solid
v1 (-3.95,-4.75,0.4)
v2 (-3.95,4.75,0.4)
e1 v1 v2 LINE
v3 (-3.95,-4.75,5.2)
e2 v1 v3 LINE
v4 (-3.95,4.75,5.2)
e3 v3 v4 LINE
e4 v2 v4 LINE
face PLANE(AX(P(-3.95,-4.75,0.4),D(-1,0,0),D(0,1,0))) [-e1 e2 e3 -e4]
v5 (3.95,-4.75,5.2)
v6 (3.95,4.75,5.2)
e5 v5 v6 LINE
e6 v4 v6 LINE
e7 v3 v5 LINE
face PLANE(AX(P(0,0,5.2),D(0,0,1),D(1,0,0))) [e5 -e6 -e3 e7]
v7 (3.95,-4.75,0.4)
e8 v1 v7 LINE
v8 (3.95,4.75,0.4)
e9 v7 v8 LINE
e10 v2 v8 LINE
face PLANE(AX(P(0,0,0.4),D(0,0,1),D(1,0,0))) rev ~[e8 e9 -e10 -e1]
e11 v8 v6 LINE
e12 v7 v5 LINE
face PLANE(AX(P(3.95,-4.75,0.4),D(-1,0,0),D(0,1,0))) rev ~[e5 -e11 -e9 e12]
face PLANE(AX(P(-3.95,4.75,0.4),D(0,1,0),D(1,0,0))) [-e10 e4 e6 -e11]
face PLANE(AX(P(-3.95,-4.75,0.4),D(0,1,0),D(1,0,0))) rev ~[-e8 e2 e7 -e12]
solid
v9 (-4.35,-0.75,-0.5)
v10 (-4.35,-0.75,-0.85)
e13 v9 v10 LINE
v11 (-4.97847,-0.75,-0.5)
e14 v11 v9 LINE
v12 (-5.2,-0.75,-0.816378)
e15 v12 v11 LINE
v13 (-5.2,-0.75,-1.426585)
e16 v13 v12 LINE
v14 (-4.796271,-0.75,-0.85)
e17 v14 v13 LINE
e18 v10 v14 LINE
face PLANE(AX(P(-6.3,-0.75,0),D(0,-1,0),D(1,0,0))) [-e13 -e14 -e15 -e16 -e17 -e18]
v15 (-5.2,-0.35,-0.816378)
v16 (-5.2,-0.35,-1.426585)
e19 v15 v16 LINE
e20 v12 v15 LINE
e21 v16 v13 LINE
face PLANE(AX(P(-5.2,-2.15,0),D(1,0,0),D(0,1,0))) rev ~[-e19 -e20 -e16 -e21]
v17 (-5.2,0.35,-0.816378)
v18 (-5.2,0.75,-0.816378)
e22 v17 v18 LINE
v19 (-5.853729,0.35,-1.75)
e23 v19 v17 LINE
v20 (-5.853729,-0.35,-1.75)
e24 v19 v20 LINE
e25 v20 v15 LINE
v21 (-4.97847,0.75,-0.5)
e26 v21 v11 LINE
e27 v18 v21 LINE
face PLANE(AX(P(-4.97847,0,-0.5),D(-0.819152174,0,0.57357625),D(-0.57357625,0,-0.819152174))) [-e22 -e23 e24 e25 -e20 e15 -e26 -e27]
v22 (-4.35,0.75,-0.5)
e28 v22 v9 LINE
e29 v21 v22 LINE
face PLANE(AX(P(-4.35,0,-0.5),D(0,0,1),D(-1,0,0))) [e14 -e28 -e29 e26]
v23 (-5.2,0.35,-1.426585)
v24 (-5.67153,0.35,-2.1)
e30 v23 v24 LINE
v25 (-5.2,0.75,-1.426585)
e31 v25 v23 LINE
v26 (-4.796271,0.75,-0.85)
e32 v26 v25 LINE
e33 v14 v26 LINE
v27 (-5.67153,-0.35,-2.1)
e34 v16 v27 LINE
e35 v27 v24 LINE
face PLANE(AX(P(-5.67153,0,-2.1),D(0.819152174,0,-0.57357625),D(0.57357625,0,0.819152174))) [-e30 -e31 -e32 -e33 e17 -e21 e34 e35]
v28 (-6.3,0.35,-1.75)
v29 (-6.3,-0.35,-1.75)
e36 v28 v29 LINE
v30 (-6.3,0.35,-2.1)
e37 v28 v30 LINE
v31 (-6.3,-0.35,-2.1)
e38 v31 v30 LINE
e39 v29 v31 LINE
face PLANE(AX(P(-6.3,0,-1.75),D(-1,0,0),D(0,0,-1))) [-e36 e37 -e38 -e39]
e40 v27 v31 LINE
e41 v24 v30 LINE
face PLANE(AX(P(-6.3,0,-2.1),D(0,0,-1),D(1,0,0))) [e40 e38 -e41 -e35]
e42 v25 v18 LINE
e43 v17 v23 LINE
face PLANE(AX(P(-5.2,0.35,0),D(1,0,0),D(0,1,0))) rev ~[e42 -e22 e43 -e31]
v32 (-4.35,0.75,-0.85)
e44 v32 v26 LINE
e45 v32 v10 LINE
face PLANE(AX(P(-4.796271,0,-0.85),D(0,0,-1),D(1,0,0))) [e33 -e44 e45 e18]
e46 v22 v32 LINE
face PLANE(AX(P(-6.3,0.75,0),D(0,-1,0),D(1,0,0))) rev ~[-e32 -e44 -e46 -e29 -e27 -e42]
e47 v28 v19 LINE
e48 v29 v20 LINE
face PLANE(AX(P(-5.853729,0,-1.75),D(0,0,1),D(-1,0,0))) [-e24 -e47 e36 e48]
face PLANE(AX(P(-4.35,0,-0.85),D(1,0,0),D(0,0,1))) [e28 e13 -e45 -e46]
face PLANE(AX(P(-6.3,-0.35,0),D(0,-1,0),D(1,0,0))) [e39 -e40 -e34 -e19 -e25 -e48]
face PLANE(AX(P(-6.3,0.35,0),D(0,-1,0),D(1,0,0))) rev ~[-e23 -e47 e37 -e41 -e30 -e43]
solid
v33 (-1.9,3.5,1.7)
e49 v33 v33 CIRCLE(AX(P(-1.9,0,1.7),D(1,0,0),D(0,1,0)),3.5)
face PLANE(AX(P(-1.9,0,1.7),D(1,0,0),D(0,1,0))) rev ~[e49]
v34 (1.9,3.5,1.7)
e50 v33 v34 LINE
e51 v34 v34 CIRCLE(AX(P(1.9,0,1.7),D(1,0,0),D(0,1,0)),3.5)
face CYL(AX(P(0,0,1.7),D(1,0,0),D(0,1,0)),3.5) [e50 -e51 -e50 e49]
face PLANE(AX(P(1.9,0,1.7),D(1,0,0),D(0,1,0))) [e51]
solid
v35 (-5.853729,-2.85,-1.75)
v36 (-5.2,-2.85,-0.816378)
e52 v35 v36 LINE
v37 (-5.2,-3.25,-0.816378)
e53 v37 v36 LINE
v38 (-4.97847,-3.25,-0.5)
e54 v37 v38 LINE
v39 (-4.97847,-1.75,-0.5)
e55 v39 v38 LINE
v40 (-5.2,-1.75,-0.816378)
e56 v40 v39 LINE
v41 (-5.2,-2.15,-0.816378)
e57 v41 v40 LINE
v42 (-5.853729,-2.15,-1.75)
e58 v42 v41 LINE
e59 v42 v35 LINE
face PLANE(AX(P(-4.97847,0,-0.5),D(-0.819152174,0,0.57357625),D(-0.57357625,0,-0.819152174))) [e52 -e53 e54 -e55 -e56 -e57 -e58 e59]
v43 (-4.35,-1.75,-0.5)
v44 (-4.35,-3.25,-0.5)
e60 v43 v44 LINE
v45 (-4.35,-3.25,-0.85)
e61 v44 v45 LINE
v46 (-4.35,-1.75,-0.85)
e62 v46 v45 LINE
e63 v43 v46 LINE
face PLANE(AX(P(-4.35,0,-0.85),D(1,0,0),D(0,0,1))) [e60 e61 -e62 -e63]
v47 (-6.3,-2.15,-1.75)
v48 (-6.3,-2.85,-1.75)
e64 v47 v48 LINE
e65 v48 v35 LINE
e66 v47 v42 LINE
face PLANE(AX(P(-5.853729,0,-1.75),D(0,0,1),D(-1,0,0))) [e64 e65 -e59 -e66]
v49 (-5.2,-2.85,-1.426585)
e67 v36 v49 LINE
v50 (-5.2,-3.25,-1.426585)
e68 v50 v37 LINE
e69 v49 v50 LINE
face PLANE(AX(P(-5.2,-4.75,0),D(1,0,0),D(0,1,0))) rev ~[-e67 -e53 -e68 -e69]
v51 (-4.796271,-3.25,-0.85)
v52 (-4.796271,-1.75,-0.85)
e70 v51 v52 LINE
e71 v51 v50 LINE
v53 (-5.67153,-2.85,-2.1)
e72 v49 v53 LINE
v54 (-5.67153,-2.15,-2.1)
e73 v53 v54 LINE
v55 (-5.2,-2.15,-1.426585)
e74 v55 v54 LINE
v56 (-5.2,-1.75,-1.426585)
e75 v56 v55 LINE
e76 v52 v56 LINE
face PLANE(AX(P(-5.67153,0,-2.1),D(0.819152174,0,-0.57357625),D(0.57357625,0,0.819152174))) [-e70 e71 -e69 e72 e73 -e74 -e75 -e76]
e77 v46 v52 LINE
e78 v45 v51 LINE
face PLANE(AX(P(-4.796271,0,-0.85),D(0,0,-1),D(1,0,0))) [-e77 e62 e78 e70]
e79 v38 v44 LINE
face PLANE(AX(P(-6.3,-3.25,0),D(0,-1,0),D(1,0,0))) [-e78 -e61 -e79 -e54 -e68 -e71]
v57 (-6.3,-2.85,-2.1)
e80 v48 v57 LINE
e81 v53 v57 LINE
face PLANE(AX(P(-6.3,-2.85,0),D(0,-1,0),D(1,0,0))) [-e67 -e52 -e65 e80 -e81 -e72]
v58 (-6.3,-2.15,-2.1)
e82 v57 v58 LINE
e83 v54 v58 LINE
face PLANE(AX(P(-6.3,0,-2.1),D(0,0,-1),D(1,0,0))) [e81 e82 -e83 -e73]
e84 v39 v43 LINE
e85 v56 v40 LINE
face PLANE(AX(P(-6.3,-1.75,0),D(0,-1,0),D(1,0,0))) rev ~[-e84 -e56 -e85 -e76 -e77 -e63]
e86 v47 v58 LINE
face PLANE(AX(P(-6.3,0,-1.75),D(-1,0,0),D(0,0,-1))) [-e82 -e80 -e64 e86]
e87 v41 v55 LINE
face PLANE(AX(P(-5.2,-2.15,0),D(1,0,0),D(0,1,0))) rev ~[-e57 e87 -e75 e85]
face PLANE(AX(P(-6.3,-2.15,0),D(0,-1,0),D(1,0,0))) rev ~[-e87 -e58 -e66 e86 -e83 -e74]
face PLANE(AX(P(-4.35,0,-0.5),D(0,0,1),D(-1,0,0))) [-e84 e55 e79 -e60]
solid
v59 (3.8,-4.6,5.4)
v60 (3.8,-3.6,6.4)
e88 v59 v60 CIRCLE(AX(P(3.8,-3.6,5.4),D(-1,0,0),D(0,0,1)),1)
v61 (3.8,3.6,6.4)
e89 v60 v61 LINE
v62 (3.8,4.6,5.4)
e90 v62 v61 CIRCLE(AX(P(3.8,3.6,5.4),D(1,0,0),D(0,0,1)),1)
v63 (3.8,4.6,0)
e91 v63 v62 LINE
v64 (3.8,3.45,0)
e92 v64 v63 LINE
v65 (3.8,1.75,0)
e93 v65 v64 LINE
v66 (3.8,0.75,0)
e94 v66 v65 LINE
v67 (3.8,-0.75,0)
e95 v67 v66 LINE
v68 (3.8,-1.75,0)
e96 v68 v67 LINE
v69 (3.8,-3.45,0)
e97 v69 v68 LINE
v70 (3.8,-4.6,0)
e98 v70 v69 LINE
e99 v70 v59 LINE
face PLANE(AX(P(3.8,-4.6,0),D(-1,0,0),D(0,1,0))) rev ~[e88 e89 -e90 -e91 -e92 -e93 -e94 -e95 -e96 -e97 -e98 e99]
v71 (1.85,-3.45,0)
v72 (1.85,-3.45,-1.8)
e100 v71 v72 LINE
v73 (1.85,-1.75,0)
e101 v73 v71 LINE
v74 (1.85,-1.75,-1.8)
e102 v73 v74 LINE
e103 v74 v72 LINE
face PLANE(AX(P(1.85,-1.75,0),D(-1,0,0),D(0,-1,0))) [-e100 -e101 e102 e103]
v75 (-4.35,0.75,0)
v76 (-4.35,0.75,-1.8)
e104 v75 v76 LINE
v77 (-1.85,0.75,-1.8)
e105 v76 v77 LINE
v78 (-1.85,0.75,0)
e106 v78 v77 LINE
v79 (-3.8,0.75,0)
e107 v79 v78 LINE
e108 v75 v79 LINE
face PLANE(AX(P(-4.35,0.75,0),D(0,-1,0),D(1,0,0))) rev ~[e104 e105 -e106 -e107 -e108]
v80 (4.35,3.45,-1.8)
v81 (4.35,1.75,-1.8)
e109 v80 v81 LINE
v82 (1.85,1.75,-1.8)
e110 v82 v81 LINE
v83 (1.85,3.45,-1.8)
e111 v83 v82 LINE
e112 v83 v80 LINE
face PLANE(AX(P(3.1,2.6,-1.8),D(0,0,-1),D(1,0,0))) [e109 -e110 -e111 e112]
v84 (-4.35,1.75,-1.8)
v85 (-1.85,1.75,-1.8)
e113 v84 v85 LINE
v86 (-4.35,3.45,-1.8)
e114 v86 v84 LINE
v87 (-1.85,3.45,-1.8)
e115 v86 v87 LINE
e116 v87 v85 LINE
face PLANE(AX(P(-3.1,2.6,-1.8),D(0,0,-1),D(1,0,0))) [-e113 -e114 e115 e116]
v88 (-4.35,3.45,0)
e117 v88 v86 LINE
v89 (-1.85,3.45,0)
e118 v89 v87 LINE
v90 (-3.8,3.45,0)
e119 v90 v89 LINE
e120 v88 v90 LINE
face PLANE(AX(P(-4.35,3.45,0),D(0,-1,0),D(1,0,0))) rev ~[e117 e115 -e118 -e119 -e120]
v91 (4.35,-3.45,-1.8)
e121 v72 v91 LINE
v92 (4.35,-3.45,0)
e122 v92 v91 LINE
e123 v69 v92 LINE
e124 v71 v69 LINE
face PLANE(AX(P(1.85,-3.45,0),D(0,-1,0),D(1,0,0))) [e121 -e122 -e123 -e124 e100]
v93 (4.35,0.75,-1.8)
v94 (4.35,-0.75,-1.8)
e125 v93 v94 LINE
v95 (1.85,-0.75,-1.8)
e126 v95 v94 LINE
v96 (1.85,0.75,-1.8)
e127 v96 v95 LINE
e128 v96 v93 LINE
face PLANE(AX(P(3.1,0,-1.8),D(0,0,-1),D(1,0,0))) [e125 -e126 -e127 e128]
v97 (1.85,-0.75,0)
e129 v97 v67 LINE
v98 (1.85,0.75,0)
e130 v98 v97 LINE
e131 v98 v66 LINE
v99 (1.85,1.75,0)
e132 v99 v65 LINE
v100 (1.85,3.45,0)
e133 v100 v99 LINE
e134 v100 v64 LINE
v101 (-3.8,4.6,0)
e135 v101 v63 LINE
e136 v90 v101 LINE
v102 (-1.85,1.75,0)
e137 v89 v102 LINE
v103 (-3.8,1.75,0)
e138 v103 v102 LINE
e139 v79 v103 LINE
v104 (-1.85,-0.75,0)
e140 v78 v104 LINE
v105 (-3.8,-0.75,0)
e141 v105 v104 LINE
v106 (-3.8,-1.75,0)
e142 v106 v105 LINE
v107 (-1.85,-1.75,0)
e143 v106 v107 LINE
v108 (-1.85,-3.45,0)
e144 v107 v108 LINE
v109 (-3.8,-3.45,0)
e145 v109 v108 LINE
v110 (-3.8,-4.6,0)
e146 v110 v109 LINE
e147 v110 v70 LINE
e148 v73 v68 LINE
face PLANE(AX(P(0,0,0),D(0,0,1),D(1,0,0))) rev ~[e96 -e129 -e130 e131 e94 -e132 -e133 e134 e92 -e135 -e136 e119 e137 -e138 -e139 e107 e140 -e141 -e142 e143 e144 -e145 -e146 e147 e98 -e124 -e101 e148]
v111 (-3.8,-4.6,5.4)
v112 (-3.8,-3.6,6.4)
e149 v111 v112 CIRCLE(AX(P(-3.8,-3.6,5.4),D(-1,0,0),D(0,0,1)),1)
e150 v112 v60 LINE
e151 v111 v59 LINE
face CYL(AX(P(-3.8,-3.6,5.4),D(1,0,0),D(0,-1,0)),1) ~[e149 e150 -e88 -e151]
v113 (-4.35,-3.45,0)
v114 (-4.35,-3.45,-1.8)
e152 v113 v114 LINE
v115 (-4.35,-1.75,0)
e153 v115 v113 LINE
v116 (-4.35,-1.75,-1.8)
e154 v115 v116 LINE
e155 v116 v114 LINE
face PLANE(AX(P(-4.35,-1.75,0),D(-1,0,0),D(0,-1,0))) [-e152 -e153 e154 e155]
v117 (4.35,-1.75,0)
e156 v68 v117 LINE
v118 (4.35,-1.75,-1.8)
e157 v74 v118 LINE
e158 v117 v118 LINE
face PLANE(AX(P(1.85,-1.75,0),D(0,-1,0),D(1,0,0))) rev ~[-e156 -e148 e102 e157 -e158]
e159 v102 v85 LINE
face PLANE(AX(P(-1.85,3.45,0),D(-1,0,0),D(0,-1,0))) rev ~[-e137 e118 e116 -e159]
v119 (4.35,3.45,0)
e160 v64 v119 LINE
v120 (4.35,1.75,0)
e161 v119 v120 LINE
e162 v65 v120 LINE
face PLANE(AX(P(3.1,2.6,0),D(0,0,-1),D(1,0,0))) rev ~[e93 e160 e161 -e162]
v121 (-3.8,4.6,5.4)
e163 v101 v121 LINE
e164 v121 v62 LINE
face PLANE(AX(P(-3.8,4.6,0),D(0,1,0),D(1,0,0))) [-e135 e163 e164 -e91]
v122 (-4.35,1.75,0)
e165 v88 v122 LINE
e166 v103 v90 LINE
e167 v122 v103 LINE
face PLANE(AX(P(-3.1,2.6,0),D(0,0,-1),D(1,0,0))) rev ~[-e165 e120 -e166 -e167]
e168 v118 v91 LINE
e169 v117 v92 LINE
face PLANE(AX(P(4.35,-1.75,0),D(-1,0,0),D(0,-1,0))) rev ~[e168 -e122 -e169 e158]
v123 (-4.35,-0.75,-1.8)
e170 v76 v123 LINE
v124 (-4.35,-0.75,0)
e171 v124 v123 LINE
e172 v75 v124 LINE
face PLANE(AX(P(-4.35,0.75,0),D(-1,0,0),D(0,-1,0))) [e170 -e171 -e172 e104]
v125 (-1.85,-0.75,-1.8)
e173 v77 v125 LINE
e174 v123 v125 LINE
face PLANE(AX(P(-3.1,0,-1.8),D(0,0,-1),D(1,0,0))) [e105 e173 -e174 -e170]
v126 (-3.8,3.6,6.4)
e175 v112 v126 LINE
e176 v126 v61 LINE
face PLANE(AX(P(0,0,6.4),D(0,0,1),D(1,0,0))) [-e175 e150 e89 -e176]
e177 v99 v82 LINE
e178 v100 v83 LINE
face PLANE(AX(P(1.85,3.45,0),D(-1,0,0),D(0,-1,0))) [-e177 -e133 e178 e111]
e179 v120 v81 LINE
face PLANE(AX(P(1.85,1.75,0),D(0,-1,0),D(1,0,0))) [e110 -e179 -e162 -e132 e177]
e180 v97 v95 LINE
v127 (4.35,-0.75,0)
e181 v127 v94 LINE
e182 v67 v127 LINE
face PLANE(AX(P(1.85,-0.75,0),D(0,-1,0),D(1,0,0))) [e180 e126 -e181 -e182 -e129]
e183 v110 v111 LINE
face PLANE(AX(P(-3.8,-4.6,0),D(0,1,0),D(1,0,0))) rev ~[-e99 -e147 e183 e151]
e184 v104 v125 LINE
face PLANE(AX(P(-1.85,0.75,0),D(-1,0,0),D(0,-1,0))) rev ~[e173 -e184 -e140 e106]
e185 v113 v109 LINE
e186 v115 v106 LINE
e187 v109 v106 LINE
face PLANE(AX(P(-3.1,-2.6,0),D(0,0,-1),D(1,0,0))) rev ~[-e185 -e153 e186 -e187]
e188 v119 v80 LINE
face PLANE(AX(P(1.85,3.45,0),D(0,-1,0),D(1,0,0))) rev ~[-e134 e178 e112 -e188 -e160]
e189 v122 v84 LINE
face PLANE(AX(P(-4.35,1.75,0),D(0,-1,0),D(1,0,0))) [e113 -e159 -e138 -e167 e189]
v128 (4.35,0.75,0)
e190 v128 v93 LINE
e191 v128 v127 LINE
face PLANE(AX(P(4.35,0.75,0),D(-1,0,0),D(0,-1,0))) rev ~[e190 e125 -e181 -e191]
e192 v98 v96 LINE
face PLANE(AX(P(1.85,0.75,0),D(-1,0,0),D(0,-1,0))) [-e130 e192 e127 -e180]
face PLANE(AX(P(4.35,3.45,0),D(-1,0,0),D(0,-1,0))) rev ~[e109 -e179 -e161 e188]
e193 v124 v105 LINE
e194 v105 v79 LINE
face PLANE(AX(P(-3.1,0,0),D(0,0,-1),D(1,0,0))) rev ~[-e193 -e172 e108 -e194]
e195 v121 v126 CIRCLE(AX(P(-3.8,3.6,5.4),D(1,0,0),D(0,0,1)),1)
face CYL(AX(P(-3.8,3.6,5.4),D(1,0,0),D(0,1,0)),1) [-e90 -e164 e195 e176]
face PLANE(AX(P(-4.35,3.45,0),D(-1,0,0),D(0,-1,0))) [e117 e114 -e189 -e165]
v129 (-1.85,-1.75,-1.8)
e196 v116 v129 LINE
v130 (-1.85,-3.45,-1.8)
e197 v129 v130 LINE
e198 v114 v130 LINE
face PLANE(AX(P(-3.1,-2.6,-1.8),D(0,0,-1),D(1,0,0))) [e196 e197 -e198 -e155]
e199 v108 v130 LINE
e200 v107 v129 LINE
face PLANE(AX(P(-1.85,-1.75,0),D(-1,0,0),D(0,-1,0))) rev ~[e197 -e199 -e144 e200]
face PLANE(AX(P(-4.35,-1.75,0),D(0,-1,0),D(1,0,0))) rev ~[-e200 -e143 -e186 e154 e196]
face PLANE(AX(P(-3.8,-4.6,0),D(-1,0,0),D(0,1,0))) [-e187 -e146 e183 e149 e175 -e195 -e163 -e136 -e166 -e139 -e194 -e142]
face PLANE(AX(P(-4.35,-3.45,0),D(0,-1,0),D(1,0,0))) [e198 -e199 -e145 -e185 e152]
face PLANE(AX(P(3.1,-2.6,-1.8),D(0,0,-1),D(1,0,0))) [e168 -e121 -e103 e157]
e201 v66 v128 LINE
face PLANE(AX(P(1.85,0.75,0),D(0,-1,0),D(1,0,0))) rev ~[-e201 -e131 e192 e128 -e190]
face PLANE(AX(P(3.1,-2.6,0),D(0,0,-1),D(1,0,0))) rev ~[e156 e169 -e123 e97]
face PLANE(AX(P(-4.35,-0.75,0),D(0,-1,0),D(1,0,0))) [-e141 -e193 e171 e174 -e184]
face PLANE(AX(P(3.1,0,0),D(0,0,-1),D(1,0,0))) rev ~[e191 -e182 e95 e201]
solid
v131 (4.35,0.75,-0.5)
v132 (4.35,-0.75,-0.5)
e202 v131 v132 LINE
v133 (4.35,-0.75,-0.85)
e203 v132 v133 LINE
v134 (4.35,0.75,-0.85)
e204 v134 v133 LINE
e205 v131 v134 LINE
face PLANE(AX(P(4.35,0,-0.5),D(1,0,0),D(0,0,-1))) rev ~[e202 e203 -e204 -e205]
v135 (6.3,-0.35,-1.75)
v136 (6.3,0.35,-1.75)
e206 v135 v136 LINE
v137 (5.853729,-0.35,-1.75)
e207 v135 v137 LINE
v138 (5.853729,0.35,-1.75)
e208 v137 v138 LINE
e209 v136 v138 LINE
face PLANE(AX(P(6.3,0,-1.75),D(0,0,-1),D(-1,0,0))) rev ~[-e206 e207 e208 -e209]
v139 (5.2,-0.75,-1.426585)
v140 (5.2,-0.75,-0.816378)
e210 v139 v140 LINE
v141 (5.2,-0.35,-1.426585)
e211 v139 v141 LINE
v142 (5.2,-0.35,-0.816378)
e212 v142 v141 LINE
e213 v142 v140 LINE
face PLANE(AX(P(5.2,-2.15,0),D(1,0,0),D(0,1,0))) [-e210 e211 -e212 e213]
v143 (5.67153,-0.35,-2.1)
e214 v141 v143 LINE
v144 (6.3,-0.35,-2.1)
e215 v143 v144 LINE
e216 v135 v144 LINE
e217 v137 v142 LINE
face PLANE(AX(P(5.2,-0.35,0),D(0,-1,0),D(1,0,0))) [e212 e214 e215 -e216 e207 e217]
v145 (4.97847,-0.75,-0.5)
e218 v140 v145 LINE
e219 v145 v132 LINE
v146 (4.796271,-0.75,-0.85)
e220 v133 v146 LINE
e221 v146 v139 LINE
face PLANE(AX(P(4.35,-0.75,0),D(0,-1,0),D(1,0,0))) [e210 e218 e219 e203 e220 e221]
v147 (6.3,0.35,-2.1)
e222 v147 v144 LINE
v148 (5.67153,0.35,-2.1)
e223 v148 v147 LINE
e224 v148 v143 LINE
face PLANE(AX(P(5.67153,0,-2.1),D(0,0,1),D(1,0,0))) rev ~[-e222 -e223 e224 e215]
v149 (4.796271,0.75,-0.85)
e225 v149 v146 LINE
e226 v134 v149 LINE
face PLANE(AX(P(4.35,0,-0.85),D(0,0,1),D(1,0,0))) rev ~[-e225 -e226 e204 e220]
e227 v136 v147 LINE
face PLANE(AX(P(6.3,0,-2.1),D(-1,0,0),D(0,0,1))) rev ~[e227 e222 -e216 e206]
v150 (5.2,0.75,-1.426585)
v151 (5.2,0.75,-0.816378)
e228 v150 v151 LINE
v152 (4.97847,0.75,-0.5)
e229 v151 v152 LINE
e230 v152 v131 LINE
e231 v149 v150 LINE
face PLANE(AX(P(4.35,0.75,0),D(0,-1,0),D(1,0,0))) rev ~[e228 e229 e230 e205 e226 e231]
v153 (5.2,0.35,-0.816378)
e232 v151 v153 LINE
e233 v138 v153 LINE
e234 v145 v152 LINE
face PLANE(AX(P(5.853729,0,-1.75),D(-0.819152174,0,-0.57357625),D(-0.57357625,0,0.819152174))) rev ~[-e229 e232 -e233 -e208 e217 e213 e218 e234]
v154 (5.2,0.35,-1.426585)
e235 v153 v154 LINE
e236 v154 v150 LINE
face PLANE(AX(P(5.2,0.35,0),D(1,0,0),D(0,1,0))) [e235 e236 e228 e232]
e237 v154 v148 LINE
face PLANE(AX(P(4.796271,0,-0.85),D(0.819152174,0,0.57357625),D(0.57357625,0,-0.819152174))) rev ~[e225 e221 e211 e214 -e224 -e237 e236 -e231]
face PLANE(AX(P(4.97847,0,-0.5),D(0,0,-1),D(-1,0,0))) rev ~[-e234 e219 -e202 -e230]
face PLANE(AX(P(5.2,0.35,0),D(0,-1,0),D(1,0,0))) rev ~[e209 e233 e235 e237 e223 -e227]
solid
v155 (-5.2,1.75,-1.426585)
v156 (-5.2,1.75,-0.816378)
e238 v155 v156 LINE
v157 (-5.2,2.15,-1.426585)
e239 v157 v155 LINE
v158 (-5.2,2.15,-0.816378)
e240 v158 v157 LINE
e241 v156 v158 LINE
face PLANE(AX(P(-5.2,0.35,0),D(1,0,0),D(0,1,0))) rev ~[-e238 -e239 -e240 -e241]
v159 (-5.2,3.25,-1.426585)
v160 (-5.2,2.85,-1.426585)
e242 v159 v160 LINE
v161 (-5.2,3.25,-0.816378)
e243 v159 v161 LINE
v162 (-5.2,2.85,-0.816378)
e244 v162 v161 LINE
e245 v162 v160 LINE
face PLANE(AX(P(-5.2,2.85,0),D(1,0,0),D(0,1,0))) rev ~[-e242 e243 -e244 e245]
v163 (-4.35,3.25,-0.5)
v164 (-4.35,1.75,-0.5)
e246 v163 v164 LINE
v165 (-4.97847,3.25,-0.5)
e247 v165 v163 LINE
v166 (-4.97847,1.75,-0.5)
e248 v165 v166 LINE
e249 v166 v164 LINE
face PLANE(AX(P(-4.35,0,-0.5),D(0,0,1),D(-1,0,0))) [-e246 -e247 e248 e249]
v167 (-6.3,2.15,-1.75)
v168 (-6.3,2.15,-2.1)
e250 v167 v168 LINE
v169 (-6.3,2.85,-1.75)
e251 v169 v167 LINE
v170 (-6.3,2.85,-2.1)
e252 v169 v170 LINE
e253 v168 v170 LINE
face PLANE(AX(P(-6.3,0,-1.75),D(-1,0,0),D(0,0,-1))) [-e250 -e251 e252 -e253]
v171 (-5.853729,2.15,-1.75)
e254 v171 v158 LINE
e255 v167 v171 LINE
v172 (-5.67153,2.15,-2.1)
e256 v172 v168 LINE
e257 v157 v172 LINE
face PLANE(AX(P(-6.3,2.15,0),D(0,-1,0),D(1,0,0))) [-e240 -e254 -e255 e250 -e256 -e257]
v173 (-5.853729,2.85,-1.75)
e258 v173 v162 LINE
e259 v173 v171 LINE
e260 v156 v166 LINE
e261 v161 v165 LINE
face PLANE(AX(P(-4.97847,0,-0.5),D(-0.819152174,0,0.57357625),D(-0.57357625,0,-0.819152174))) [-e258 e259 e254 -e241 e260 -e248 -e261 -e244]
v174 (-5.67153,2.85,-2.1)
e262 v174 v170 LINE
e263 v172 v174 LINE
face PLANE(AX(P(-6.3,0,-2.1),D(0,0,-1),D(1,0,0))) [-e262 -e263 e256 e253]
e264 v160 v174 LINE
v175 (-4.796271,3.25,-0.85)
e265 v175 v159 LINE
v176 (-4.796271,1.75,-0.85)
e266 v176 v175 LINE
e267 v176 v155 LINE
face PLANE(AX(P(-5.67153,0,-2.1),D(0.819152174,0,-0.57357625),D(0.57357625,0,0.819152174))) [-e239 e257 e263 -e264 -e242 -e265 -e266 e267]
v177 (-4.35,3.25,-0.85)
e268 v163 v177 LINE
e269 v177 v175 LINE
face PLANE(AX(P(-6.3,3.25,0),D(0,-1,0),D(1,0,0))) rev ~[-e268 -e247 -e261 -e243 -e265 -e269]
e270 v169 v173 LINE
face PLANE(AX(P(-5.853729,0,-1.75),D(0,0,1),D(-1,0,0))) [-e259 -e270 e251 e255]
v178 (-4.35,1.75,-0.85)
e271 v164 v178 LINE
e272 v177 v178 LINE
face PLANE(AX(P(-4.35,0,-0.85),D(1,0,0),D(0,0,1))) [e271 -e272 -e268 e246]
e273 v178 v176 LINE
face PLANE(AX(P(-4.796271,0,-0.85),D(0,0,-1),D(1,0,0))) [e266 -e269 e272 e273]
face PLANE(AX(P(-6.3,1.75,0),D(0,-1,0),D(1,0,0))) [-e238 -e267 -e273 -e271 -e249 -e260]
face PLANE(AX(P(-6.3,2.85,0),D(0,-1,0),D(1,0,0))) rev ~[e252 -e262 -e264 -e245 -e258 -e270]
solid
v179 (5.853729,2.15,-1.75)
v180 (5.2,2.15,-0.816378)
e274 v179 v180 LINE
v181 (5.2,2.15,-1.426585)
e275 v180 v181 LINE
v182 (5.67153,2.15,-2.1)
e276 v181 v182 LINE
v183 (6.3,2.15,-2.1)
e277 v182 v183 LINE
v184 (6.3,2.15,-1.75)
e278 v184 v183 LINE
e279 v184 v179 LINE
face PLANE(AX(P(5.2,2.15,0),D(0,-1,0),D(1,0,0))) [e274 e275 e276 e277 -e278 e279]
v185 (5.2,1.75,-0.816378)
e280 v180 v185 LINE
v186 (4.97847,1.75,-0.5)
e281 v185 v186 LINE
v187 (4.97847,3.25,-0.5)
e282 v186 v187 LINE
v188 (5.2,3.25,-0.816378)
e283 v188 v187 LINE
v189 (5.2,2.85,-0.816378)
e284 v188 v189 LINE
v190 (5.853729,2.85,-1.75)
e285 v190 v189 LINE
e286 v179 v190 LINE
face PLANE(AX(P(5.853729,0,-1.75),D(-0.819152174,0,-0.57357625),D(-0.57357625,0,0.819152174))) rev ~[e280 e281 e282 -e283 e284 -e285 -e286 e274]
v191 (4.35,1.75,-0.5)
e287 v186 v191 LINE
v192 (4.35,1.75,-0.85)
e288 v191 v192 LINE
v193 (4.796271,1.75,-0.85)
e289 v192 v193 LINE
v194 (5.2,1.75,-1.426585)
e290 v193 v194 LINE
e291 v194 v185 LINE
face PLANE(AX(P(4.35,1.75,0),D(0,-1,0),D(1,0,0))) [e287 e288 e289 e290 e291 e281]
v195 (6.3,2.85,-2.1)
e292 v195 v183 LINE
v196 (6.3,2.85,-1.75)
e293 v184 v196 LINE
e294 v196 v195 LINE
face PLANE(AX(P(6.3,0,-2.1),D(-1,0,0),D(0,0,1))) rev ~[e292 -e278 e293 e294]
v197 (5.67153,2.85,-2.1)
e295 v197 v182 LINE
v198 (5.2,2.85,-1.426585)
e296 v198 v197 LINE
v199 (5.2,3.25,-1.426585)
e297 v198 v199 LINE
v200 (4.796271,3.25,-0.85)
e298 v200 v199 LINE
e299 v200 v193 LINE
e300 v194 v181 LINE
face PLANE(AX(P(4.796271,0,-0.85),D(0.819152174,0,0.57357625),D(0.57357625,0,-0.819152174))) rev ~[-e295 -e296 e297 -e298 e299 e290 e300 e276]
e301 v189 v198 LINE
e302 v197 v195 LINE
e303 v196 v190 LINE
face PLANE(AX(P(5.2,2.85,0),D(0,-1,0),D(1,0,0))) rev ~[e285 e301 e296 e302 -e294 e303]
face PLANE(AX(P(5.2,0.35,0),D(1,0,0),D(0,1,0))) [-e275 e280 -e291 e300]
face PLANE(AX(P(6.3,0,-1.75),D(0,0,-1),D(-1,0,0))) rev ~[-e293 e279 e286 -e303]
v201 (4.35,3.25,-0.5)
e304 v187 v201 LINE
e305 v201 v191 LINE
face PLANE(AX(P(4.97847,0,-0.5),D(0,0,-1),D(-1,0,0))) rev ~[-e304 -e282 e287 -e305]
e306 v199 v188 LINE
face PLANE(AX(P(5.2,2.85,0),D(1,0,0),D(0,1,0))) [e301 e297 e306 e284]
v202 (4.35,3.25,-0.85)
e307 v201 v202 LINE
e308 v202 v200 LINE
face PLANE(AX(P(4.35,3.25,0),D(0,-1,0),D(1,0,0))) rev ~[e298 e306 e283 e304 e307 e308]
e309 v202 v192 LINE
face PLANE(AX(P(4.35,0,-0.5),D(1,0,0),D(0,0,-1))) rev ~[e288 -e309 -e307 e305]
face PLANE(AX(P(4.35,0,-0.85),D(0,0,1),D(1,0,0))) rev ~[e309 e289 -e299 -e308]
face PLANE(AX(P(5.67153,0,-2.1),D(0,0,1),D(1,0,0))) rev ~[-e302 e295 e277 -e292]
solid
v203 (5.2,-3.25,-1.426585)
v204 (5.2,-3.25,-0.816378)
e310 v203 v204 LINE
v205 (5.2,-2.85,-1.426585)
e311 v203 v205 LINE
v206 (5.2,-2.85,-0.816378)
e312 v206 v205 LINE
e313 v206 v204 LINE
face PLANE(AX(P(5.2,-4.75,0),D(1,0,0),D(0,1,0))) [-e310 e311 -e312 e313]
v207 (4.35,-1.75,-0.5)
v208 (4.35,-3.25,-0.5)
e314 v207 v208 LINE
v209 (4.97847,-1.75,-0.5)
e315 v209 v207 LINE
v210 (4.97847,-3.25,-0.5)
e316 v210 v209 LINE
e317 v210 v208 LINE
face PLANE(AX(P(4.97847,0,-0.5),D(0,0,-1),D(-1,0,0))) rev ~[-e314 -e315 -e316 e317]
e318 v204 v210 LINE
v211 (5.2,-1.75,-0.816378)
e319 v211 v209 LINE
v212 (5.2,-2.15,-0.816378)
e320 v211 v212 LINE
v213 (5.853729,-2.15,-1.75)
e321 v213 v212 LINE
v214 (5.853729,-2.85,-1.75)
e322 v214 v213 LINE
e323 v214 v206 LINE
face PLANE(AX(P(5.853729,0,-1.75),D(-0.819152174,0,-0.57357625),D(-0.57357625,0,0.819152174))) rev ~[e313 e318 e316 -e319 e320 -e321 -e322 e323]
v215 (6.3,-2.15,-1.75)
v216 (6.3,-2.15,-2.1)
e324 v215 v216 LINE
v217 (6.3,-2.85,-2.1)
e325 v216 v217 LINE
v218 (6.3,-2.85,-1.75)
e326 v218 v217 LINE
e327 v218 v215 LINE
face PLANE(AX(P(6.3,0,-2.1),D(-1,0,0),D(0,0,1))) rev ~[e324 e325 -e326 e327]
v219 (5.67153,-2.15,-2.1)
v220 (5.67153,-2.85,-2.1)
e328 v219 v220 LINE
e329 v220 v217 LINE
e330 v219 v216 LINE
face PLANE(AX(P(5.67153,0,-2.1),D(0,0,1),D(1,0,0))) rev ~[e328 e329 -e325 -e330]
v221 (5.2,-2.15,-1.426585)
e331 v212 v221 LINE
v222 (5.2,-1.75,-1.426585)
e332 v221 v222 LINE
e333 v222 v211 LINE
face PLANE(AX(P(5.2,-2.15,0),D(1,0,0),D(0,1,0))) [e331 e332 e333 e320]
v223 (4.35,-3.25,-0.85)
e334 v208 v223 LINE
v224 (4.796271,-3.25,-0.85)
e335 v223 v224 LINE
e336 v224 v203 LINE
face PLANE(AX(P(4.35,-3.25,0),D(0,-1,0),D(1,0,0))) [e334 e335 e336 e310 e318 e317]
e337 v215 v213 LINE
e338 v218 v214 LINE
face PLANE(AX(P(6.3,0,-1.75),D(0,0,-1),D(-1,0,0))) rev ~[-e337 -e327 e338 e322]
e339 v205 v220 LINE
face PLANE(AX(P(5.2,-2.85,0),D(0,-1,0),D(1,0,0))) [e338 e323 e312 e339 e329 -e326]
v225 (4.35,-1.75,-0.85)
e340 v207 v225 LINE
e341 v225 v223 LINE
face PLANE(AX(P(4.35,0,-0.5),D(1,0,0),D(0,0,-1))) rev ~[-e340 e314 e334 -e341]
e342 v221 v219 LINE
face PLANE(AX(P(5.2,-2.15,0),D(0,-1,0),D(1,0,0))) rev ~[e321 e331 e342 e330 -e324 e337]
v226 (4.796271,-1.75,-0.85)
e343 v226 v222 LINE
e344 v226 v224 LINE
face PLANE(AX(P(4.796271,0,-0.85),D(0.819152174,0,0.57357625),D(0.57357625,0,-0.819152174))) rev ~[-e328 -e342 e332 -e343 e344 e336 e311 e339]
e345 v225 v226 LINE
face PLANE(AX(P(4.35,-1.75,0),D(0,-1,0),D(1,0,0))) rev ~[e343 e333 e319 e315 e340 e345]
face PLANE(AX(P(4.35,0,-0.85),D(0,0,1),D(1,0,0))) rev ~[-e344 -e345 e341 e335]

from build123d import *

# Parameters (mm, degrees)
F0_W      = 7.6
F0_H      = 9.2
F1_DEPTH  = 6.4
F2_R      = 1
F4_W      = 7.9
F4_H      = 9.5
F5_DEPTH  = 4.8
F6_W      = 2.5
F6_H      = 1.7
F6_H_2    = 1.5
F7_DEPTH  = 1.8
F8_R      = 3.5
F9_DEPTH  = 1.9
F11_DEPTH = 3.5
F12_W     = 1.95
F12_H     = 0.25
F12_H_2   = 1
F13_DEPTH = 2.101
F14_W     = 1.1
F14_H     = 1.8
F14_H_2   = 1.9
F15_DEPTH = 25


with BuildPart() as f1:
    # F0 (on Top) → F1 (new body)
    with BuildSketch(Plane.XY):
        Rectangle(F0_W, F0_H)
    extrude(amount=F1_DEPTH)

    # F2
    f2_edges = [f1.edges().sort_by_distance(p)[0] for p in [
        (0, 4.6, 6.4),
        (0, -4.6, 6.4),
    ]]
    fillet(f2_edges, radius=F2_R)

    # F6 (on face) → F7 (join)
    with BuildSketch(Plane(origin=(0, 0, 0), x_dir=(1, 0, 0), z_dir=(0, 0, -1))):
        with Locations((3.1, -2.6)):
            Rectangle(F6_W, F6_H)
        with Locations((3.1, 0)):
            Rectangle(F6_W, F6_H_2)
        with Locations((3.1, 2.6)):
            Rectangle(F6_W, F6_H)
        with Locations((-3.1, 2.6)):
            Rectangle(F6_W, F6_H)
        with Locations((-3.1, 0)):
            Rectangle(F6_W, F6_H_2)
        with Locations((-3.1, -2.6)):
            Rectangle(F6_W, F6_H)
    extrude(amount=F7_DEPTH)


with BuildPart() as f5:
    # F4 (on offset) → F5 (new body)
    with BuildSketch(Plane.XY.offset(0.4)):
        Rectangle(F4_W, F4_H)
    extrude(amount=F5_DEPTH)


with BuildPart() as f9:
    # F8 (on Right) → F9 (new body, symmetric)
    with BuildSketch(Plane.YZ):
        with Locations((0, 1.7)):
            Circle(F8_R)
    extrude(amount=F9_DEPTH, both=True)


with BuildPart() as f11:
    # F10 (on Front) → F11 (new body, symmetric)
    with BuildSketch(Plane.XZ):
        Polygon((4.97847, -0.5), (4.35, -0.5), (4.35, -0.85), (4.796271, -0.85), (5.67153, -2.1), (6.3, -2.1), (6.3, -1.75), (5.853729, -1.75), align=None)
        Polygon((-4.796271, -0.85), (-4.35, -0.85), (-4.35, -0.5), (-4.97847, -0.5), (-5.853729, -1.75), (-6.3, -1.75), (-6.3, -2.1), (-5.67153, -2.1), align=None)
    extrude(amount=F11_DEPTH, both=True)

    # F12 (on Top) → F13 (cut, through all)
    with BuildSketch(Plane.XY):
        with Locations((-5.325, -3.375)):
            Rectangle(F12_W, F12_H)
        with Locations((-5.325, -1.25)):
            Rectangle(F12_W, F12_H_2)
        with Locations((-5.325, 3.375)):
            Rectangle(F12_W, F12_H)
        with Locations((-5.325, 1.25)):
            Rectangle(F12_W, F12_H_2)
        with Locations((5.325, -3.375)):
            Rectangle(F12_W, F12_H)
        with Locations((5.325, 3.375)):
            Rectangle(F12_W, F12_H)
        with Locations((5.325, 1.25)):
            Rectangle(F12_W, F12_H_2)
        with Locations((5.325, -1.25)):
            Rectangle(F12_W, F12_H_2)
    extrude(amount=-F13_DEPTH, mode=Mode.SUBTRACT)

    # F14 (on Top) → F15 (cut)
    with BuildSketch(Plane.XY):
        with Locations((-5.75, -1.25)):
            Rectangle(F14_W, F14_H)
        with Locations((-5.75, 1.25)):
            Rectangle(F14_W, F14_H)
        with Locations((-5.75, -3.8)):
            Rectangle(F14_W, F14_H_2)
        with Locations((-5.75, 3.8)):
            Rectangle(F14_W, F14_H_2)
        with Locations((5.75, -1.25)):
            Rectangle(F14_W, F14_H)
        with Locations((5.75, 1.25)):
            Rectangle(F14_W, F14_H)
        with Locations((5.75, 3.8)):
            Rectangle(F14_W, F14_H_2)
        with Locations((5.75, -3.8)):
            Rectangle(F14_W, F14_H_2)
    extrude(amount=-F15_DEPTH, mode=Mode.SUBTRACT)


solid = Compound([f1.part, f5.part, f9.part, f11.part])
